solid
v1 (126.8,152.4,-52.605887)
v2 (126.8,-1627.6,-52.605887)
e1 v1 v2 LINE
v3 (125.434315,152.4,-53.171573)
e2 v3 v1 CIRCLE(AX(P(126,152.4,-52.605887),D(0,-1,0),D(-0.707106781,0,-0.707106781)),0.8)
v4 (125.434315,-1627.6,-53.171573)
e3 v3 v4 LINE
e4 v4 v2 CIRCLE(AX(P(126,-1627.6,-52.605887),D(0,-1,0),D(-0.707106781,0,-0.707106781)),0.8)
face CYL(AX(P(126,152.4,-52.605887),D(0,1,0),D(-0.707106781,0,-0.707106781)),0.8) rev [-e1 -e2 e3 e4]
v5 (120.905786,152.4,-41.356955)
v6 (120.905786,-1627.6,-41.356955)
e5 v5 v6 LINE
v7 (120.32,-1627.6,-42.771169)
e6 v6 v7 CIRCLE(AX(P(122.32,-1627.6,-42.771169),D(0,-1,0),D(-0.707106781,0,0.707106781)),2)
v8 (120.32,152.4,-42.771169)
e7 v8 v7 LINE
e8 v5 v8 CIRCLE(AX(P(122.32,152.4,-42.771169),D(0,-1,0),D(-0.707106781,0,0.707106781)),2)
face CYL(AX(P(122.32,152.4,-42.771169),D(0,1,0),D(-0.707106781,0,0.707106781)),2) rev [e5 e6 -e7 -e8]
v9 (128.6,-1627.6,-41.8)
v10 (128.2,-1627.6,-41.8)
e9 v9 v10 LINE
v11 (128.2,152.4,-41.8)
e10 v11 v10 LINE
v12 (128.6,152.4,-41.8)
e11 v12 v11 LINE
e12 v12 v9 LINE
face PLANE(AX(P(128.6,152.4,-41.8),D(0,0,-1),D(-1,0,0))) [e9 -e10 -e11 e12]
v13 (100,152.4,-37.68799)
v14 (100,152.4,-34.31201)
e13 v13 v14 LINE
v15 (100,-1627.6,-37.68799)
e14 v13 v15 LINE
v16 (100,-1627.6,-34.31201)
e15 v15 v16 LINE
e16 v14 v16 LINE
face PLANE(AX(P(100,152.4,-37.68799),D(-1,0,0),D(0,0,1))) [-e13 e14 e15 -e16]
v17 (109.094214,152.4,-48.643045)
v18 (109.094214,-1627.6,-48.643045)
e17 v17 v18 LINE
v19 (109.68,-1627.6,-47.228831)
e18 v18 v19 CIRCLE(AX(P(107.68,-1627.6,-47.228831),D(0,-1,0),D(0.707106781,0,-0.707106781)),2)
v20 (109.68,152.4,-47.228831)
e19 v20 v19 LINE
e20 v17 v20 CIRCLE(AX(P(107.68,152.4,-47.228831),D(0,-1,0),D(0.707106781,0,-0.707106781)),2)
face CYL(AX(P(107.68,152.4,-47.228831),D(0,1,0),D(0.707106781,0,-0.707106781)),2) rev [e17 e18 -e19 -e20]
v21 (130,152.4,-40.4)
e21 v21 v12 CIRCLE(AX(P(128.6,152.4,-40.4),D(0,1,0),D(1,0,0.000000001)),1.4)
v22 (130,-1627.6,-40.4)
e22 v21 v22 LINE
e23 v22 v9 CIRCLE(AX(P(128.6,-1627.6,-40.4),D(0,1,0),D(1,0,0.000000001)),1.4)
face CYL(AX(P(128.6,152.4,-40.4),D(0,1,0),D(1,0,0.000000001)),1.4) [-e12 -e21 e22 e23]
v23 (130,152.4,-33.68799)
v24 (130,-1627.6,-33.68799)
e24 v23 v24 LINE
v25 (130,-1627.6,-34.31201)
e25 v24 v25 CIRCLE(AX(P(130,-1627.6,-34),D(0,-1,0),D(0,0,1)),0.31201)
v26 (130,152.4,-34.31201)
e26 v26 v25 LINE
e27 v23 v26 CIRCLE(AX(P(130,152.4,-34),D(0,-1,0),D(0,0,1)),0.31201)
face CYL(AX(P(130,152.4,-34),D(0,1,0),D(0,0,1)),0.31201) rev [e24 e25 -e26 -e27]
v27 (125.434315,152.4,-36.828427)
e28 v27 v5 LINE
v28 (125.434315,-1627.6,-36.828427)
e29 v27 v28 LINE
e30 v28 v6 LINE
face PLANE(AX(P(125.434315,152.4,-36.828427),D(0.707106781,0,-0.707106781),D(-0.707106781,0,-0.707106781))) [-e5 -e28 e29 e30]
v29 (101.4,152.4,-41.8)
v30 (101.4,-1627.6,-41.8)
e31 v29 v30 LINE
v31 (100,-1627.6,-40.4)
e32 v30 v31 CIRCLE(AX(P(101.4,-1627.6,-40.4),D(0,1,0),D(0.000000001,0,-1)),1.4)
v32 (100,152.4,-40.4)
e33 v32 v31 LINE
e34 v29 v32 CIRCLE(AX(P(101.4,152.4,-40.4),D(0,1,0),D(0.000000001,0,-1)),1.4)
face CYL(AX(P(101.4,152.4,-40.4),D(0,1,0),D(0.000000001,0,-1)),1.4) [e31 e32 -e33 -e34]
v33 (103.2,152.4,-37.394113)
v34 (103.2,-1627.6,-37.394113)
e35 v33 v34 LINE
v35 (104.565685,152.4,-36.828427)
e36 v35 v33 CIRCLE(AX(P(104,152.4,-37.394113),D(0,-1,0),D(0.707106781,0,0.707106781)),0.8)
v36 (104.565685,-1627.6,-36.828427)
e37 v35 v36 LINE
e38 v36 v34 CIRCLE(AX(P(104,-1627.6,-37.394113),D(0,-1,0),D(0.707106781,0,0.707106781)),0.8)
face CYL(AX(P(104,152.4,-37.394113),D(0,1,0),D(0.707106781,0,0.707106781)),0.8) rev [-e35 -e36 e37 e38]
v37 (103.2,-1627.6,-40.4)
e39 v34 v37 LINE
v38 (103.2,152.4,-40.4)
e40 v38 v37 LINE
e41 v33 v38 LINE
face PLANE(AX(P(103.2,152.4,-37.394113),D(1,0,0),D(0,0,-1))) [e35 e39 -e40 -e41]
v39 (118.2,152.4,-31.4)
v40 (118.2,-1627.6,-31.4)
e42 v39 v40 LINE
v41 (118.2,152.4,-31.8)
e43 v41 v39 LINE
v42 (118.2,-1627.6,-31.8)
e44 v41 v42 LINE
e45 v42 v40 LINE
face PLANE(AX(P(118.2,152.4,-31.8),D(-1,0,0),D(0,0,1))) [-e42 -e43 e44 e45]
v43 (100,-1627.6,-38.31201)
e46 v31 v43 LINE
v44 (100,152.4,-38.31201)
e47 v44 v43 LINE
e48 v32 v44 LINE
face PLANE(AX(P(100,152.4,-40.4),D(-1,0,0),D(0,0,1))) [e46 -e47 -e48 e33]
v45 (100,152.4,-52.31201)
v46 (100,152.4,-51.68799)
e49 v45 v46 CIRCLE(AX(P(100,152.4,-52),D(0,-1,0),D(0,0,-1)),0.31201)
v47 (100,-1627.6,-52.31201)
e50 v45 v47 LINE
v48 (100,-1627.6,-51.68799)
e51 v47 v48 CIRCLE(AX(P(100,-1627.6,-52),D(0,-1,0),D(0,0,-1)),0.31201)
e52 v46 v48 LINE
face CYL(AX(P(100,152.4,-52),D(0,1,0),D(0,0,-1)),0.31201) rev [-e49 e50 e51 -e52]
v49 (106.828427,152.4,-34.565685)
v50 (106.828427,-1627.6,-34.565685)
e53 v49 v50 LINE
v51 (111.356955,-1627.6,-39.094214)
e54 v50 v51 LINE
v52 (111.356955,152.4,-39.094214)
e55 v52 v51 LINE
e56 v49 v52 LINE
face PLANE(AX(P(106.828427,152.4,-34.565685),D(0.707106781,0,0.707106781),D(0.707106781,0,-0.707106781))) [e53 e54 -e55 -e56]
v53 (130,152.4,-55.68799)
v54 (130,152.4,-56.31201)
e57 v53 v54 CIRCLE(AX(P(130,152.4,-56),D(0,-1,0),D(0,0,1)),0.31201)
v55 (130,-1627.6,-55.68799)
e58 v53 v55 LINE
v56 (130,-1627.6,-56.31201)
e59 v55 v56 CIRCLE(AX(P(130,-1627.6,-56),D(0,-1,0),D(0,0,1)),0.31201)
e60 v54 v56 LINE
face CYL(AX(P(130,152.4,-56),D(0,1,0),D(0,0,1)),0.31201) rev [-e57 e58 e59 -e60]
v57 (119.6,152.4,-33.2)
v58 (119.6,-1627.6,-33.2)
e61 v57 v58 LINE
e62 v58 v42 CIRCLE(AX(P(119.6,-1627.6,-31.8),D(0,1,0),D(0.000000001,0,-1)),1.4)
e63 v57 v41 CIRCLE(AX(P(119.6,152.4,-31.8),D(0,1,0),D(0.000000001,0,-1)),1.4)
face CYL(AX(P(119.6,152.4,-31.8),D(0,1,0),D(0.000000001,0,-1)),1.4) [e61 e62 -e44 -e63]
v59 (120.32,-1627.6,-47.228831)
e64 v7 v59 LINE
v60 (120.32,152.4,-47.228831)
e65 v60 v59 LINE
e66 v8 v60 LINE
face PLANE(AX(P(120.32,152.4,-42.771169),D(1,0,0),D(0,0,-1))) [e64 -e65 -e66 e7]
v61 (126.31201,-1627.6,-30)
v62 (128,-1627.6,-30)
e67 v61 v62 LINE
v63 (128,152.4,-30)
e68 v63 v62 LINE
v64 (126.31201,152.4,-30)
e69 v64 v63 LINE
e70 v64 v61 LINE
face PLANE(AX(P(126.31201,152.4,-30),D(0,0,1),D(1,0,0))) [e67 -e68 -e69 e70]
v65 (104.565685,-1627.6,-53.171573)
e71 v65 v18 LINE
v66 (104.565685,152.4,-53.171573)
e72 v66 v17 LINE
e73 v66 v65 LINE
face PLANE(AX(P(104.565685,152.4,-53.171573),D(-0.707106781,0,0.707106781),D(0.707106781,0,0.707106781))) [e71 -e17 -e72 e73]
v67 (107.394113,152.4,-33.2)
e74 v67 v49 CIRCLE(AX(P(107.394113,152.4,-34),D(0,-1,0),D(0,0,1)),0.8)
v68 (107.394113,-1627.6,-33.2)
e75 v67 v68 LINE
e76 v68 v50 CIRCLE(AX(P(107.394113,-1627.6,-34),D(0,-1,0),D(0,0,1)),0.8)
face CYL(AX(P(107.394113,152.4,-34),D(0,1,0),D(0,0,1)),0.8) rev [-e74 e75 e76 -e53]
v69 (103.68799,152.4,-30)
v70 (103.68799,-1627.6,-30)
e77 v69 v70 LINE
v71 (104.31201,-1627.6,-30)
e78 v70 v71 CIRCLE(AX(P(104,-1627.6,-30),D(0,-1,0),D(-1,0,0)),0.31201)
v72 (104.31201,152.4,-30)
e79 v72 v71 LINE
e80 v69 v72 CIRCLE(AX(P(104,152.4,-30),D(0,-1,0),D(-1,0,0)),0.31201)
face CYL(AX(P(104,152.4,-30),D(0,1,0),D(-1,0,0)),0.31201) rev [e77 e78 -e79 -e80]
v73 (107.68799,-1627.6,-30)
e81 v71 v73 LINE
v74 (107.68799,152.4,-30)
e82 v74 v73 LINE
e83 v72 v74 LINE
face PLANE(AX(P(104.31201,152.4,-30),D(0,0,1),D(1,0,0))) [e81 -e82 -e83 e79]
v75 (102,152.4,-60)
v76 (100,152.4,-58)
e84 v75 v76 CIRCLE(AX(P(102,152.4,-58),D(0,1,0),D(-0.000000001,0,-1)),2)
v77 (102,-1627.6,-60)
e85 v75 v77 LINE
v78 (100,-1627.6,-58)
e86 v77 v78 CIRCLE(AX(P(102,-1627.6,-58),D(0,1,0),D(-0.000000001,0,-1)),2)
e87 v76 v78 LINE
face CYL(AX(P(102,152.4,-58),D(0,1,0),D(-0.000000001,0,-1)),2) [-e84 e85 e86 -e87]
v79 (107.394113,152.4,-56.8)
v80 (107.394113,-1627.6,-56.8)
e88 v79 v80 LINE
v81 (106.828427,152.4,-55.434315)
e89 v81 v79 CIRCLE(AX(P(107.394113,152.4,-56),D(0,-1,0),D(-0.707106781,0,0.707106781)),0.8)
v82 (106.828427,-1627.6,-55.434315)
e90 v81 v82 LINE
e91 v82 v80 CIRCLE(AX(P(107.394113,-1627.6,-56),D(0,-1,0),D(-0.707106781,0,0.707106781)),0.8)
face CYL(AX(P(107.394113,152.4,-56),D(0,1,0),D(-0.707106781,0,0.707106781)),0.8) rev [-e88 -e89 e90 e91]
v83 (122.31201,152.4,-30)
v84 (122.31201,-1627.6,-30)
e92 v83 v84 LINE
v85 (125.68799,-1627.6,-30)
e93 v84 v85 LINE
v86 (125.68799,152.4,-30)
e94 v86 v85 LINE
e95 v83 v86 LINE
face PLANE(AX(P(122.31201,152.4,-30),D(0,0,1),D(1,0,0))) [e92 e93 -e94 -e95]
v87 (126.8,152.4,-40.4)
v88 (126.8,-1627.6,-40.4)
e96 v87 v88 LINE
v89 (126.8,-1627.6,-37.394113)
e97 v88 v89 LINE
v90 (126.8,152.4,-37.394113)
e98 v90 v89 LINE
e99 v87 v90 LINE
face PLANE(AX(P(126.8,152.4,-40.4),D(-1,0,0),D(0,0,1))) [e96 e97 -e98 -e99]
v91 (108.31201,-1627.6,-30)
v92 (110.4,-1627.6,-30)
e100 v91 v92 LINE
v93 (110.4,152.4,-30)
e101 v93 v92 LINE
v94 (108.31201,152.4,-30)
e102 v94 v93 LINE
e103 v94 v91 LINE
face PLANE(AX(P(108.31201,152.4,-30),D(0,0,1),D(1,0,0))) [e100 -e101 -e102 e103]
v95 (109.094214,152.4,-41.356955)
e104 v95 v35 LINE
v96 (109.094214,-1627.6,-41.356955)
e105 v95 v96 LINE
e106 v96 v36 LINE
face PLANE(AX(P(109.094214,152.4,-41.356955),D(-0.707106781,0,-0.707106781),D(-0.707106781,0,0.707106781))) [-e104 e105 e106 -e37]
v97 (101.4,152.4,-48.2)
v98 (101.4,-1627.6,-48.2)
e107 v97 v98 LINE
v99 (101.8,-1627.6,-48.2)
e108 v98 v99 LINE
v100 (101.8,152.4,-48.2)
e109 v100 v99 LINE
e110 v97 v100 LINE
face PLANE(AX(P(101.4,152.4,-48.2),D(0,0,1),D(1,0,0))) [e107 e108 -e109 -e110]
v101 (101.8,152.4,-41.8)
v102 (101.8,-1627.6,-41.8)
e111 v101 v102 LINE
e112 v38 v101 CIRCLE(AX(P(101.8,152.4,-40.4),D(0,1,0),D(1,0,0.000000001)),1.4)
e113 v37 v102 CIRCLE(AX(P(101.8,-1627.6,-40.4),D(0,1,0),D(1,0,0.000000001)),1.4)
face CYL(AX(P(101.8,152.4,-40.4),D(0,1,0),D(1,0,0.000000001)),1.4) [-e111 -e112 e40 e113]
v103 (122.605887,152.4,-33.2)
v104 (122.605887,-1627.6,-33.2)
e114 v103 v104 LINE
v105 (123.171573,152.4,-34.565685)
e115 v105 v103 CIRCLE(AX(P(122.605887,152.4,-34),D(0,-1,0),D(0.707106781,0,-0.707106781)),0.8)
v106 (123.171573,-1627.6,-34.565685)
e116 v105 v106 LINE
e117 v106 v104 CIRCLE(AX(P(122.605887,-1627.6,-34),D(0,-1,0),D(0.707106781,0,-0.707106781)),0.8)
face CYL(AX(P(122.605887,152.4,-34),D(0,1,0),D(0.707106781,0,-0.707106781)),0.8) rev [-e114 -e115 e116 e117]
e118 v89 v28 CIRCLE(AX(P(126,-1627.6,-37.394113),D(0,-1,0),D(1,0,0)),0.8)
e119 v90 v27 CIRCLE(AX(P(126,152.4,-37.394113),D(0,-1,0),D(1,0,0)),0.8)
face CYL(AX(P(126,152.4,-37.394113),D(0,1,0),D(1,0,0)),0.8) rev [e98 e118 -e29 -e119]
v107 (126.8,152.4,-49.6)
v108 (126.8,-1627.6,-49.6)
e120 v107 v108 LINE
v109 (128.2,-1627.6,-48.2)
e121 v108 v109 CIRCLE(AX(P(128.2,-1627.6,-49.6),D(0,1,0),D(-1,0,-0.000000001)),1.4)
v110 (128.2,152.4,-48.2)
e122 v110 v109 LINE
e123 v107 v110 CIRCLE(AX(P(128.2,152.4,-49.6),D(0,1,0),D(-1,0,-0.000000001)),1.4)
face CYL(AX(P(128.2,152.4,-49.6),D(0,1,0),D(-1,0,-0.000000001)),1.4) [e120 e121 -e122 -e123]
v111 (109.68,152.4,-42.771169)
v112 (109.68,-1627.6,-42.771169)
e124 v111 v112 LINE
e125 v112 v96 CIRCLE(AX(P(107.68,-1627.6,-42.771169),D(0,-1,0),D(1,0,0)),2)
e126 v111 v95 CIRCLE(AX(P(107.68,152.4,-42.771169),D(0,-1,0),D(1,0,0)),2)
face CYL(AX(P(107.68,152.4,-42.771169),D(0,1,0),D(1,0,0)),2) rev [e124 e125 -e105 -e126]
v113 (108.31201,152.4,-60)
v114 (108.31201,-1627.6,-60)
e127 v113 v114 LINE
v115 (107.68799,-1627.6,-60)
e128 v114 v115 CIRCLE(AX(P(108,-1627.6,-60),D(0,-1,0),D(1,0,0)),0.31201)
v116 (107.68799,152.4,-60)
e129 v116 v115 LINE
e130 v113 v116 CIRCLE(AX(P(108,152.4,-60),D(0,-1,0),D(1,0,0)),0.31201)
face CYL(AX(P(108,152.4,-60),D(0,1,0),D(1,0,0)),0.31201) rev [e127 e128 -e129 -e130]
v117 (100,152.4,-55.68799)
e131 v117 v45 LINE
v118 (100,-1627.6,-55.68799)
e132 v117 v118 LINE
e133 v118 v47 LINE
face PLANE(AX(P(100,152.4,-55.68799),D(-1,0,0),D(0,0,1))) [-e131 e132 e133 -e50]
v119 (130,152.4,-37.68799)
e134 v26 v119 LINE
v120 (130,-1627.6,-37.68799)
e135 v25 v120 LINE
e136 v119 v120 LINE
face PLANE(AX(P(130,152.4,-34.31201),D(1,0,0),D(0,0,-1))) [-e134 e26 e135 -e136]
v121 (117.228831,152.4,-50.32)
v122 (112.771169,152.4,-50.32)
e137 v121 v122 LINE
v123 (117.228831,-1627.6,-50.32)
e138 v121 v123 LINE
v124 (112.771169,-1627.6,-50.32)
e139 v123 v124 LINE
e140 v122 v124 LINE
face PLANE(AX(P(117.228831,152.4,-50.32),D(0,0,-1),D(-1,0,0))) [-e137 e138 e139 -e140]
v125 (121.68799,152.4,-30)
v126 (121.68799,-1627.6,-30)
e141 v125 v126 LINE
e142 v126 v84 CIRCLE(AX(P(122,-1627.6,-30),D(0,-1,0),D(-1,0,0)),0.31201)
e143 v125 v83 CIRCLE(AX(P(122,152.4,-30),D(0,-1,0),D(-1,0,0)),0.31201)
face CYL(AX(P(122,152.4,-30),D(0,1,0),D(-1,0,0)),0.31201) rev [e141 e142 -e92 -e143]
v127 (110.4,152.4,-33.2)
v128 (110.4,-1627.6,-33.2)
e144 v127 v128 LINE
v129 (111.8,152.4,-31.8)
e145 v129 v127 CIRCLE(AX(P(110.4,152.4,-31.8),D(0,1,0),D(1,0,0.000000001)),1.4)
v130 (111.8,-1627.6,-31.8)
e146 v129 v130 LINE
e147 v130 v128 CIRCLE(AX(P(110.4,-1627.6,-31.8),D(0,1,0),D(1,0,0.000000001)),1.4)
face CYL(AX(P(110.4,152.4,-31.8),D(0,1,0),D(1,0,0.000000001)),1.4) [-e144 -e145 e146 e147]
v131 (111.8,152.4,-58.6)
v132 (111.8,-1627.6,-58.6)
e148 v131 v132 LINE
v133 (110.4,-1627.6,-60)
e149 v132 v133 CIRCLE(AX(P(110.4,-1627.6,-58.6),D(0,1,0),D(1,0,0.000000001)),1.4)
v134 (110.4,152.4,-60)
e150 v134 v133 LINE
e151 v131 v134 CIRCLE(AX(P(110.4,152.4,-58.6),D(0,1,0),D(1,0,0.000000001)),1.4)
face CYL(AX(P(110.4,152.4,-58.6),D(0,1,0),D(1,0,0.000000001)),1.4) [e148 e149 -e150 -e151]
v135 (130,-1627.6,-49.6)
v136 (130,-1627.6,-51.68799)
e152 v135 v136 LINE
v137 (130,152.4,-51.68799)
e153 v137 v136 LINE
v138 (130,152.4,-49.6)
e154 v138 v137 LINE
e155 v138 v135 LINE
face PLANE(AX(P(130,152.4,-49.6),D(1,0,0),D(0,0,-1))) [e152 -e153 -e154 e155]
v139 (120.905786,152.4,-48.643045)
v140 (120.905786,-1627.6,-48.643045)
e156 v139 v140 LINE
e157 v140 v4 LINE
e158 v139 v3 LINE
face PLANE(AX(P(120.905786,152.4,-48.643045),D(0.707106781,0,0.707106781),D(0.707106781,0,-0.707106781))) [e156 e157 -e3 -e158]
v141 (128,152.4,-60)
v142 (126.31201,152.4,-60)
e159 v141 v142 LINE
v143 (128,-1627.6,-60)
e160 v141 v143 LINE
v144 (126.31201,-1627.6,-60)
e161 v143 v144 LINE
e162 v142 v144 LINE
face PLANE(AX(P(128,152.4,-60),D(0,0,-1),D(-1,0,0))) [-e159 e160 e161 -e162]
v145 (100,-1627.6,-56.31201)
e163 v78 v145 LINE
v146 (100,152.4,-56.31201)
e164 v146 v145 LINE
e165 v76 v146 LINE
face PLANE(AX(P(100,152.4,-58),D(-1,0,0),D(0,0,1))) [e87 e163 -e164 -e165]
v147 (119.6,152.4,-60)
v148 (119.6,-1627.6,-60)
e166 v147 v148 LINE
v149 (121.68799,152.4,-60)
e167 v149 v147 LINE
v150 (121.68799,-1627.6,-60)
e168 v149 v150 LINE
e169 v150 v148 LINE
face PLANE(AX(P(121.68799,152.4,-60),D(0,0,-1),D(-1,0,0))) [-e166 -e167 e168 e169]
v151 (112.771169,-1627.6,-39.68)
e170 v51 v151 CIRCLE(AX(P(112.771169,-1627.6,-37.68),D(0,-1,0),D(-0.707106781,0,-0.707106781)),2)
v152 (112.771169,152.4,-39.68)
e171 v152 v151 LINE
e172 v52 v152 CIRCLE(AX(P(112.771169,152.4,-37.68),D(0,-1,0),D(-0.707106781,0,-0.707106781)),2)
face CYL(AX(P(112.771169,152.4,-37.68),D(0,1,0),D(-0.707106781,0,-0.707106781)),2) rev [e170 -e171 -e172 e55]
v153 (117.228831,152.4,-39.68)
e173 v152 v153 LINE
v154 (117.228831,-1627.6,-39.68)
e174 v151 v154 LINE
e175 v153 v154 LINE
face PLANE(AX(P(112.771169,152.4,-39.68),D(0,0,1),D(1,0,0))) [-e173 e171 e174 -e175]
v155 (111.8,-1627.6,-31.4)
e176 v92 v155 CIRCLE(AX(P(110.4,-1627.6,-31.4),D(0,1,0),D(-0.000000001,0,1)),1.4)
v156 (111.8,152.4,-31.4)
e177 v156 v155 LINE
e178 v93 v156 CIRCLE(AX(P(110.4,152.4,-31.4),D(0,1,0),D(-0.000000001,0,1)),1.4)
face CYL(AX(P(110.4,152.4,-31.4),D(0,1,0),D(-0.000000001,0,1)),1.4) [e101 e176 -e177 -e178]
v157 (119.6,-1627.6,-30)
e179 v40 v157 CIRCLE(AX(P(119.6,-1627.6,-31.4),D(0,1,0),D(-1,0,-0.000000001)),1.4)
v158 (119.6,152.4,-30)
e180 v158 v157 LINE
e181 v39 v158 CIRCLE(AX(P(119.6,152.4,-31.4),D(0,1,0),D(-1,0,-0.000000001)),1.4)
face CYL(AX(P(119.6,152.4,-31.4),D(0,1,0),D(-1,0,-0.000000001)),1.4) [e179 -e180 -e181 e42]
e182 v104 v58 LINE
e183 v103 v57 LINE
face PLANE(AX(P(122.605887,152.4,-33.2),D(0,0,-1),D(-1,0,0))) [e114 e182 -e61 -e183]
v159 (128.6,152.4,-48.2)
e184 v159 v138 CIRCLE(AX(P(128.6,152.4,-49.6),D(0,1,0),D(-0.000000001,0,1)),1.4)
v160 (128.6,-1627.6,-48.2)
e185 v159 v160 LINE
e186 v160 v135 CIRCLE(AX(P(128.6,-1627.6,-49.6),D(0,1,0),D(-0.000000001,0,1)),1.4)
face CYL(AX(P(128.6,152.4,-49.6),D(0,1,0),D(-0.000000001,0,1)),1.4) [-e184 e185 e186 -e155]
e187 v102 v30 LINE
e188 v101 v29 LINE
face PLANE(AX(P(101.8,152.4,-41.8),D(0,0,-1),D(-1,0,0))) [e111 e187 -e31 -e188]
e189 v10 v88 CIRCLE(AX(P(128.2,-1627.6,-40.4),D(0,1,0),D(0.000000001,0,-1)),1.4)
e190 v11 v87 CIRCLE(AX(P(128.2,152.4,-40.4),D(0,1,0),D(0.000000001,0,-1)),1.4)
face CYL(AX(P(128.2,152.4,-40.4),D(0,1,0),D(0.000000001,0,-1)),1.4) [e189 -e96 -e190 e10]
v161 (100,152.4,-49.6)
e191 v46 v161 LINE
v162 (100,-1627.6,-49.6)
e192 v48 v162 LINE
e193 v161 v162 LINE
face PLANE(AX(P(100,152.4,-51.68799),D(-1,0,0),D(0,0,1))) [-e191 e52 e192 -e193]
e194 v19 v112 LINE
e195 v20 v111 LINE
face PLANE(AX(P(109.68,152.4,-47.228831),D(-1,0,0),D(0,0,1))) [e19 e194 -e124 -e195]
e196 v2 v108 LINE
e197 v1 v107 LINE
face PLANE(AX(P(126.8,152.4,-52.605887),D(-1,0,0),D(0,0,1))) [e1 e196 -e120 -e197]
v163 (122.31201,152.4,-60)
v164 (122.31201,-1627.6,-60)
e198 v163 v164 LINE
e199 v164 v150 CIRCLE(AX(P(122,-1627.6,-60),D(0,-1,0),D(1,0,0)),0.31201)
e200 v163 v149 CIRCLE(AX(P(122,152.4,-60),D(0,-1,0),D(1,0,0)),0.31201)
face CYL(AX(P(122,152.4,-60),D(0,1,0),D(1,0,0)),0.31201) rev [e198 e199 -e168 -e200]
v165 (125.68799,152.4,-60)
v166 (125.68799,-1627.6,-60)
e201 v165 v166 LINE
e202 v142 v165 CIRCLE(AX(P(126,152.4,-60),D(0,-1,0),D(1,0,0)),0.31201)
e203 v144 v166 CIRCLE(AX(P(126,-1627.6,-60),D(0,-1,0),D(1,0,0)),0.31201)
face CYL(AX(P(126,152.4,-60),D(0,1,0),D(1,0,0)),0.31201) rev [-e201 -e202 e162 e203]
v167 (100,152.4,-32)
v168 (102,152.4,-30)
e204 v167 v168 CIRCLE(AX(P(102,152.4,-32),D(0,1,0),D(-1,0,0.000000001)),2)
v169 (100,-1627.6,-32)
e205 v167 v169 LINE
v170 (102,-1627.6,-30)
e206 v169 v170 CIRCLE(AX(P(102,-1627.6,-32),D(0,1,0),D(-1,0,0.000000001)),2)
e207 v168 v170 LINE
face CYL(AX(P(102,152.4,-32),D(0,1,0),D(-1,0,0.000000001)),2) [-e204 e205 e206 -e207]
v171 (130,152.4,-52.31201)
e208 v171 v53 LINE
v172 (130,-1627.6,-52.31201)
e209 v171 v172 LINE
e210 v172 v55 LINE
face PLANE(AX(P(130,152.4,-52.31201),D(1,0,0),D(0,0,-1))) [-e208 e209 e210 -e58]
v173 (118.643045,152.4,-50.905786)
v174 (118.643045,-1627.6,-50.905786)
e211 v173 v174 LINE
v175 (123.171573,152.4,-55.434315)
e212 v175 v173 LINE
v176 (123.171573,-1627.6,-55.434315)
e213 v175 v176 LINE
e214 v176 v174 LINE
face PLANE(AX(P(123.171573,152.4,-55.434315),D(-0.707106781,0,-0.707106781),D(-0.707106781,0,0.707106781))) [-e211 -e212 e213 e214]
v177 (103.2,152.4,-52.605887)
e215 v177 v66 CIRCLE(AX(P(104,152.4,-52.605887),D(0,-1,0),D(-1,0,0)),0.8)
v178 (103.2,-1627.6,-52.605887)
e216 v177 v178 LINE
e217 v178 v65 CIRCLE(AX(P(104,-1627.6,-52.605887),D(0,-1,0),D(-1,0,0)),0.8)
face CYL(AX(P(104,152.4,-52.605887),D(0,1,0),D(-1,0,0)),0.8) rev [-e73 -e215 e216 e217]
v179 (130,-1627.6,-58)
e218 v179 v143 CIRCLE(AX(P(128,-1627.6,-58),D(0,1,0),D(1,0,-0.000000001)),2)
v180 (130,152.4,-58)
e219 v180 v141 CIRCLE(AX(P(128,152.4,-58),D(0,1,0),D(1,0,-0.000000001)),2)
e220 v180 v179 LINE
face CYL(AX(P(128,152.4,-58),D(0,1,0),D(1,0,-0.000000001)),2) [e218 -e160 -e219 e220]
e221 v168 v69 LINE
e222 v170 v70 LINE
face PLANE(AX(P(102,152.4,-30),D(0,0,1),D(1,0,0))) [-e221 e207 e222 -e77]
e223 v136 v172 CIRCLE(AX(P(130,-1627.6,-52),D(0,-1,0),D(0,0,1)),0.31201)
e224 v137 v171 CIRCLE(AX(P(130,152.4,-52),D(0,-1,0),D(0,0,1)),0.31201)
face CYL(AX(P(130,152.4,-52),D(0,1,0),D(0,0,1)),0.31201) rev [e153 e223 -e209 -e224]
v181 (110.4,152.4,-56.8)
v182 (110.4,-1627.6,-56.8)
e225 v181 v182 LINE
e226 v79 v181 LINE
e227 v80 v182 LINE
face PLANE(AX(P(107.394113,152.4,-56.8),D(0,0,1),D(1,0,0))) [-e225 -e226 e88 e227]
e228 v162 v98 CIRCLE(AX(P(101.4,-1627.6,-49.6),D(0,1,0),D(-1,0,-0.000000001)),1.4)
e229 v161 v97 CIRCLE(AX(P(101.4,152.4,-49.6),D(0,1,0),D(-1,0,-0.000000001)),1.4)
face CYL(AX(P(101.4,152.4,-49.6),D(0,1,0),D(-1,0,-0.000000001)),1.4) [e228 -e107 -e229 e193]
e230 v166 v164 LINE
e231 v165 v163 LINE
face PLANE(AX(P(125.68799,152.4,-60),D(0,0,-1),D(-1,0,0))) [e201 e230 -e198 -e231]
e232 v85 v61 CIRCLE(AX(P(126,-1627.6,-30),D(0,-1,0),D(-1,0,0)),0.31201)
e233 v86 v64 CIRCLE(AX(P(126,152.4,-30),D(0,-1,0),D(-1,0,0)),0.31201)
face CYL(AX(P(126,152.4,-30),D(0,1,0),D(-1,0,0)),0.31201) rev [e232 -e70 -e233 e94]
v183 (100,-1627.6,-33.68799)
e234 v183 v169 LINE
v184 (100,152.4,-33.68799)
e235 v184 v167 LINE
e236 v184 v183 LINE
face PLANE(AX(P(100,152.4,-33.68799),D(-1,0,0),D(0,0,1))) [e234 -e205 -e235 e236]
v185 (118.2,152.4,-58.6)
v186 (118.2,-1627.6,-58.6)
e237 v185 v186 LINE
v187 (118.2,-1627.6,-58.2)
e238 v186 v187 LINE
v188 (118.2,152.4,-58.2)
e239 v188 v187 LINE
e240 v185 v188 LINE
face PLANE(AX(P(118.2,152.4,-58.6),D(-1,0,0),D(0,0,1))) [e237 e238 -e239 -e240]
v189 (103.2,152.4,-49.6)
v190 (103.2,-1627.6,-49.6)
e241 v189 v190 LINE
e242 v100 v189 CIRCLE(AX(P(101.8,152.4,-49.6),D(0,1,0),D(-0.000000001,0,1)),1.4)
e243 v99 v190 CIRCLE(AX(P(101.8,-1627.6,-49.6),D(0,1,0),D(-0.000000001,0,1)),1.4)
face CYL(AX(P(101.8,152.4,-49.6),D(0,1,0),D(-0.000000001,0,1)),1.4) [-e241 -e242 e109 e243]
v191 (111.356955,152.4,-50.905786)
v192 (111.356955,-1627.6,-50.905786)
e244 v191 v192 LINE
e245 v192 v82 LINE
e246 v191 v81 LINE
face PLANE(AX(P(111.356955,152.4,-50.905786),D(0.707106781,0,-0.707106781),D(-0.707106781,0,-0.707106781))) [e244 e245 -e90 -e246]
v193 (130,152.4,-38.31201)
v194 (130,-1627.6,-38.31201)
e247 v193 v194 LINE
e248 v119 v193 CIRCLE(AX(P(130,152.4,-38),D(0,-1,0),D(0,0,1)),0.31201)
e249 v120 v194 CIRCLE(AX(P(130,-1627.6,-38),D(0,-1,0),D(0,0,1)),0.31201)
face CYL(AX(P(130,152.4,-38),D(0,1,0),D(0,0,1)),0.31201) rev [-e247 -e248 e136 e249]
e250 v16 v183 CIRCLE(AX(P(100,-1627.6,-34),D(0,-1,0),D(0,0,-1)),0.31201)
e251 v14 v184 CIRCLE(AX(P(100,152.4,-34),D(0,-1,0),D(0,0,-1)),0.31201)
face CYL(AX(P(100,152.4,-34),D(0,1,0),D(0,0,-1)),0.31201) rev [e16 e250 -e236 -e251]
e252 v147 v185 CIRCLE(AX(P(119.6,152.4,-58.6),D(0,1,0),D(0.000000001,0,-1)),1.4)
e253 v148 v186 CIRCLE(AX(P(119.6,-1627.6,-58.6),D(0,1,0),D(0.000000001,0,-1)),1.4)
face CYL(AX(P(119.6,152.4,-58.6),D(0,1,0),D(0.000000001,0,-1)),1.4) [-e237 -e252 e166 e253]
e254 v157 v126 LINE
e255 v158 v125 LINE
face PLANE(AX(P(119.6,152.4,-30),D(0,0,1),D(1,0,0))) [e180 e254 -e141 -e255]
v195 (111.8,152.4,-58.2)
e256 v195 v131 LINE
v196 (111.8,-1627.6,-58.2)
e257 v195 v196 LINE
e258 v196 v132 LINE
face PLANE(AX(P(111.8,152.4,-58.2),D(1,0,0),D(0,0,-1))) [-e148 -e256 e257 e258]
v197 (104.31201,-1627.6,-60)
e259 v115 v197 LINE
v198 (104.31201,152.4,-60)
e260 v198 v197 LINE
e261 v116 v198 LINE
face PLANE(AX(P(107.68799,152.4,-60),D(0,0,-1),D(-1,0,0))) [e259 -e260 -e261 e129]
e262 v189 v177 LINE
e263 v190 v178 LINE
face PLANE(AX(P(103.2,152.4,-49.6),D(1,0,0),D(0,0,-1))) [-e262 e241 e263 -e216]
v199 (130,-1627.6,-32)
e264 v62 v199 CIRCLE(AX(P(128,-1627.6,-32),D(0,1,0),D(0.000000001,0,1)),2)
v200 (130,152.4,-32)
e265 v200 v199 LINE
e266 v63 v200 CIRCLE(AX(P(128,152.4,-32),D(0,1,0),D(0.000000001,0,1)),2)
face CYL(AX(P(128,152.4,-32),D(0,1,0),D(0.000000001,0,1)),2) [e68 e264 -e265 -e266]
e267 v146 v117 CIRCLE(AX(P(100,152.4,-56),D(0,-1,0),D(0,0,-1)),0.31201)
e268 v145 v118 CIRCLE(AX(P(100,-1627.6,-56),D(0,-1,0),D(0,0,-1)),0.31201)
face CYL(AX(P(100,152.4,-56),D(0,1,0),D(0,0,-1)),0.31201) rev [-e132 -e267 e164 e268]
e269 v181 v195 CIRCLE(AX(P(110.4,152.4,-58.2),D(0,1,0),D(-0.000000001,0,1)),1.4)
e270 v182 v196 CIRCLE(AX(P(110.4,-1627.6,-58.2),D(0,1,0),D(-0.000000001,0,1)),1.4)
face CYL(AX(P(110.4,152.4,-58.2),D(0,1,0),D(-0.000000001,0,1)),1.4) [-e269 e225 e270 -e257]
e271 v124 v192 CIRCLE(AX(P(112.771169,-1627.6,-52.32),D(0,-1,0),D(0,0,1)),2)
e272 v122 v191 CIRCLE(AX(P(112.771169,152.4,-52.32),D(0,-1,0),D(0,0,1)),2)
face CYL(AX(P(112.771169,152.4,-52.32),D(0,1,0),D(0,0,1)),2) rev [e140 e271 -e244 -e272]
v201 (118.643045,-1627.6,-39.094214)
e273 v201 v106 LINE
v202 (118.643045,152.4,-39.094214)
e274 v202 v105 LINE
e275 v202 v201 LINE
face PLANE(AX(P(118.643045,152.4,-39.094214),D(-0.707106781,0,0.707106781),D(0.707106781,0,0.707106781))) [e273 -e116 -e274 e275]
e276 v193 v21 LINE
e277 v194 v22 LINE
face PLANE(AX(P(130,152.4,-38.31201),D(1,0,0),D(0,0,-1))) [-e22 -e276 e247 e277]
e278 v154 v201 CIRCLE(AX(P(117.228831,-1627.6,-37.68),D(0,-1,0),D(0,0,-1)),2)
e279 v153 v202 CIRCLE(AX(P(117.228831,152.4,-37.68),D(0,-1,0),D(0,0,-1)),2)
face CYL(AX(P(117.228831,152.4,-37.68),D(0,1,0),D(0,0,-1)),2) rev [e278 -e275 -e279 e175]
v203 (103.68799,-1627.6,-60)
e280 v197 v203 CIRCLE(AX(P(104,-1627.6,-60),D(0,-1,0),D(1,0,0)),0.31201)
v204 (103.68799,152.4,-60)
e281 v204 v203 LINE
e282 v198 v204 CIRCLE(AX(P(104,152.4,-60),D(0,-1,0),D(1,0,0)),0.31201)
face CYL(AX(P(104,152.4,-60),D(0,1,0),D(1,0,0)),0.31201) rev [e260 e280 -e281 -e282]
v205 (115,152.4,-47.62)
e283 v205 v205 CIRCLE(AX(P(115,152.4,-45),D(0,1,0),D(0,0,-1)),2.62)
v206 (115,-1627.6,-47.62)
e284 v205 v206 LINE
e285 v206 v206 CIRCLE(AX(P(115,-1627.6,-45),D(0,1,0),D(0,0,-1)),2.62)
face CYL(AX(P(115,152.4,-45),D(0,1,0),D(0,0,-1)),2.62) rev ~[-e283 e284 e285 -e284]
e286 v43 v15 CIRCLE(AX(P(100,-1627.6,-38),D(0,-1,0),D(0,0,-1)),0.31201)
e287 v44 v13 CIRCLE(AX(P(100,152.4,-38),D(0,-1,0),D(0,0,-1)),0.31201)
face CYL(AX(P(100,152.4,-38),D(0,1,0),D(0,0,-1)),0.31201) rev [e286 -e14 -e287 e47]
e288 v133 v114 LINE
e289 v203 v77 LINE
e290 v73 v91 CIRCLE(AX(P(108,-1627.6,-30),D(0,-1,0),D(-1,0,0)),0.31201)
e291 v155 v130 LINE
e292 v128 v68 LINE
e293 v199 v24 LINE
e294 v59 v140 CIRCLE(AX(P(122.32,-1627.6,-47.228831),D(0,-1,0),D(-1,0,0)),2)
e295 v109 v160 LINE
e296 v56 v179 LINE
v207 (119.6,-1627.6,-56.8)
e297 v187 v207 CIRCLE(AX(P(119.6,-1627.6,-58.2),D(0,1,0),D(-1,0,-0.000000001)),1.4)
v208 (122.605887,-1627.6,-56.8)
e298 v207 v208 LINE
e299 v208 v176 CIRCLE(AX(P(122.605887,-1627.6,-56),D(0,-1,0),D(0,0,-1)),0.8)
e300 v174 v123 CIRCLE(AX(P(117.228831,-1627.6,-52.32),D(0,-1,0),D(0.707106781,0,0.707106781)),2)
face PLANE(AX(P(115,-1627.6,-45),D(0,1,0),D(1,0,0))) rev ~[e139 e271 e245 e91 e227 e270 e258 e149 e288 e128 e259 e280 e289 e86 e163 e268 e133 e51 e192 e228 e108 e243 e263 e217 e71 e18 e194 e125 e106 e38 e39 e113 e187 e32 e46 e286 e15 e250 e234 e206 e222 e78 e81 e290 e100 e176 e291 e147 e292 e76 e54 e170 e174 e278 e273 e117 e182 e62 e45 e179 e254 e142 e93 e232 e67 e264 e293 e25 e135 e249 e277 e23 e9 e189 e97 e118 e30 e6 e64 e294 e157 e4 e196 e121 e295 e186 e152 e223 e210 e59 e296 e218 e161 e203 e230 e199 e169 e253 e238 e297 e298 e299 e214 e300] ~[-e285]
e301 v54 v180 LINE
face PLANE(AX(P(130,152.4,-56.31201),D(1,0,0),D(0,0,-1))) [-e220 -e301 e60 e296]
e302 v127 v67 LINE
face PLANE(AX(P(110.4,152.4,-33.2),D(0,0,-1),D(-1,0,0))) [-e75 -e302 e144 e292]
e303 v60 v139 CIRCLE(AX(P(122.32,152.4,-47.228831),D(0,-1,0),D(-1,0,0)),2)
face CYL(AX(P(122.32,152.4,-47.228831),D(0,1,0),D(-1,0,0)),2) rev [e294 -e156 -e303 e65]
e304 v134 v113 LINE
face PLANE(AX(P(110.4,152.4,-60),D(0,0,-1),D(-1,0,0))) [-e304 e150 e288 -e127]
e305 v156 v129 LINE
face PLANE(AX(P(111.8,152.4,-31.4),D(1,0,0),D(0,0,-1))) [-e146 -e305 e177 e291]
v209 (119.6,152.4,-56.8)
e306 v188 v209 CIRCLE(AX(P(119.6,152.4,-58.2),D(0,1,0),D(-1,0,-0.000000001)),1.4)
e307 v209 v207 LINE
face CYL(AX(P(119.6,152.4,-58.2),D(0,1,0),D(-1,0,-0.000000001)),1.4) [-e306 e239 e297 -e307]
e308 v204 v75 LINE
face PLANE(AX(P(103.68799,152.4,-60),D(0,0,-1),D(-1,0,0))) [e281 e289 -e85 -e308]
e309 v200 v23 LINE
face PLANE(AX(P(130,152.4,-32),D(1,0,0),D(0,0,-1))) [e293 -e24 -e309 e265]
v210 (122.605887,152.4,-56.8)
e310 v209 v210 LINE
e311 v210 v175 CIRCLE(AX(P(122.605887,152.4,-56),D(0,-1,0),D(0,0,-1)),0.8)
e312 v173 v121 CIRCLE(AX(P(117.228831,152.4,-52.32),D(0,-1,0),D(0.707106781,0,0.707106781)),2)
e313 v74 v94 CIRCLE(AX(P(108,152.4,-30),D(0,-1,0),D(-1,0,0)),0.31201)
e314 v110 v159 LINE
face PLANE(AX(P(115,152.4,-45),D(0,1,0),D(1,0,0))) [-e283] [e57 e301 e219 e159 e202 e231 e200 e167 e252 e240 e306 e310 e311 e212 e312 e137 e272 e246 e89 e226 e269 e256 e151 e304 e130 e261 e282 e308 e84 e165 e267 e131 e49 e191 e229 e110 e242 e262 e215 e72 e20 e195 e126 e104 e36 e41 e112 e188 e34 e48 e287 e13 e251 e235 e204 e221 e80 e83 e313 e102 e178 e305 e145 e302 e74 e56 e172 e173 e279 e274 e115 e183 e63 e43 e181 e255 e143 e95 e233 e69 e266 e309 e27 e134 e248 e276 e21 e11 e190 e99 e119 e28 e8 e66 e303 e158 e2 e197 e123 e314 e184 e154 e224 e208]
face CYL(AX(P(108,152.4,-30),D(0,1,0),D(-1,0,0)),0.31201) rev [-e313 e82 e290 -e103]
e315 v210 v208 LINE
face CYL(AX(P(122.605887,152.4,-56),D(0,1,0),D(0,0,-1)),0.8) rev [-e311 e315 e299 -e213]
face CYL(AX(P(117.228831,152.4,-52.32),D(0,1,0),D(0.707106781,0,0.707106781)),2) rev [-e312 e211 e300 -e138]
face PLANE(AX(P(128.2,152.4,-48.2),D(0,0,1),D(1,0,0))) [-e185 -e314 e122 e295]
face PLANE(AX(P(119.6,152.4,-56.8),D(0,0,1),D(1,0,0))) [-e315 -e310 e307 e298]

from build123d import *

# Parameters (mm, degrees)
SCHIZZO1_R                   = 2.62
ESTRUSIONE_ESTRUSIONE1_DEPTH = 1780


with BuildPart() as part:
    # Schizzo1 → Estrusione-Estrusione1 (new body)
    with BuildSketch(Plane(origin=(0, 152.4, 0), x_dir=(1, 0, 0), z_dir=(0, 1, 0))):
        with BuildLine():
            Line((130, 32), (130, 33.687990441))
            ThreePointArc((130, 33.687990441), (129.687990441, 34), (130, 34.312009559))
            Line((130, 34.312009559), (130, 37.687990441))
            ThreePointArc((130, 37.687990441), (129.687990441, 38), (130, 38.312009559))
            Line((130, 38.312009559), (130, 40.4))
            ThreePointArc((130, 40.4), (129.589949494, 41.389949494), (128.6, 41.8))
            Line((128.6, 41.8), (128.2, 41.8))
            ThreePointArc((128.2, 41.8), (127.210050506, 41.389949494), (126.8, 40.4))
            Line((126.8, 40.4), (126.8, 37.39411255))
            ThreePointArc((126.8, 37.39411255), (126.306146746, 36.655008924), (125.434314575, 36.828427125))
            Line((125.434314575, 36.828427125), (120.905786438, 41.356955262))
            ThreePointArc((120.905786438, 41.356955262), (120.472240935, 42.00580196), (120.32, 42.771168825))
            Line((120.32, 42.771168825), (120.32, 47.228831175))
            ThreePointArc((120.32, 47.228831175), (120.472240935, 47.99419804), (120.905786438, 48.643044738))
            Line((120.905786438, 48.643044738), (125.434314575, 53.171572875))
            ThreePointArc((125.434314575, 53.171572875), (126.306146746, 53.344991076), (126.8, 52.60588745))
            Line((126.8, 52.60588745), (126.8, 49.6))
            ThreePointArc((126.8, 49.6), (127.210050506, 48.610050506), (128.2, 48.2))
            Line((128.2, 48.2), (128.6, 48.2))
            ThreePointArc((128.6, 48.2), (129.589949494, 48.610050506), (130, 49.6))
            Line((130, 49.6), (130, 51.687990441))
            ThreePointArc((130, 51.687990441), (129.687990441, 52), (130, 52.312009559))
            Line((130, 52.312009559), (130, 55.687990441))
            ThreePointArc((130, 55.687990441), (129.687990441, 56), (130, 56.312009559))
            Line((130, 56.312009559), (130, 58))
            ThreePointArc((130, 58), (129.414213562, 59.414213562), (128, 60))
            Line((128, 60), (126.312009559, 60))
            ThreePointArc((126.312009559, 60), (126, 59.687990441), (125.687990441, 60))
            Line((125.687990441, 60), (122.312009559, 60))
            ThreePointArc((122.312009559, 60), (122, 59.687990441), (121.687990441, 60))
            Line((121.687990441, 60), (119.6, 60))
            ThreePointArc((119.6, 60), (118.610050506, 59.589949494), (118.2, 58.6))
            Line((118.2, 58.6), (118.2, 58.2))
            ThreePointArc((118.2, 58.2), (118.610050506, 57.210050506), (119.6, 56.8))
            Line((119.6, 56.8), (122.60588745, 56.8))
            ThreePointArc((122.60588745, 56.8), (123.344991076, 56.306146746), (123.171572875, 55.434314575))
            Line((123.171572875, 55.434314575), (118.643044738, 50.905786438))
            ThreePointArc((118.643044738, 50.905786438), (117.99419804, 50.472240935), (117.228831175, 50.32))
            Line((117.228831175, 50.32), (112.771168825, 50.32))
            ThreePointArc((112.771168825, 50.32), (112.00580196, 50.472240935), (111.356955262, 50.905786438))
            Line((111.356955262, 50.905786438), (106.828427125, 55.434314575))
            ThreePointArc((106.828427125, 55.434314575), (106.655008924, 56.306146746), (107.39411255, 56.8))
            Line((107.39411255, 56.8), (110.4, 56.8))
            ThreePointArc((110.4, 56.8), (111.389949494, 57.210050506), (111.8, 58.2))
            Line((111.8, 58.2), (111.8, 58.6))
            ThreePointArc((111.8, 58.6), (111.389949494, 59.589949494), (110.4, 60))
            Line((110.4, 60), (108.312009559, 60))
            ThreePointArc((108.312009559, 60), (108, 59.687990441), (107.687990441, 60))
            Line((107.687990441, 60), (104.312009559, 60))
            ThreePointArc((104.312009559, 60), (104, 59.687990441), (103.687990441, 60))
            Line((103.687990441, 60), (102, 60))
            ThreePointArc((102, 60), (100.585786438, 59.414213562), (100, 58))
            Line((100, 58), (100, 56.312009559))
            ThreePointArc((100, 56.312009559), (100.312009559, 56), (100, 55.687990441))
            Line((100, 55.687990441), (100, 52.312009559))
            ThreePointArc((100, 52.312009559), (100.312009559, 52), (100, 51.687990441))
            Line((100, 51.687990441), (100, 49.6))
            ThreePointArc((100, 49.6), (100.410050506, 48.610050506), (101.4, 48.2))
            Line((101.4, 48.2), (101.8, 48.2))
            ThreePointArc((101.8, 48.2), (102.789949494, 48.610050506), (103.2, 49.6))
            Line((103.2, 49.6), (103.2, 52.60588745))
            ThreePointArc((103.2, 52.60588745), (103.693853254, 53.344991076), (104.565685425, 53.171572875))
            Line((104.565685425, 53.171572875), (109.094213562, 48.643044738))
            ThreePointArc((109.094213562, 48.643044738), (109.527759065, 47.99419804), (109.68, 47.228831175))
            Line((109.68, 47.228831175), (109.68, 42.771168825))
            ThreePointArc((109.68, 42.771168825), (109.527759065, 42.00580196), (109.094213562, 41.356955262))
            Line((109.094213562, 41.356955262), (104.565685425, 36.828427125))
            ThreePointArc((104.565685425, 36.828427125), (103.693853254, 36.655008924), (103.2, 37.39411255))
            Line((103.2, 37.39411255), (103.2, 40.4))
            ThreePointArc((103.2, 40.4), (102.789949494, 41.389949494), (101.8, 41.8))
            Line((101.8, 41.8), (101.4, 41.8))
            ThreePointArc((101.4, 41.8), (100.410050506, 41.389949494), (100, 40.4))
            Line((100, 40.4), (100, 38.312009559))
            ThreePointArc((100, 38.312009559), (100.312009559, 38), (100, 37.687990441))
            Line((100, 37.687990441), (100, 34.312009559))
            ThreePointArc((100, 34.312009559), (100.312009559, 34), (100, 33.687990441))
            Line((100, 33.687990441), (100, 32))
            ThreePointArc((100, 32), (100.585786438, 30.585786438), (102, 30))
            Line((102, 30), (103.687990441, 30))
            ThreePointArc((103.687990441, 30), (104, 30.312009559), (104.312009559, 30))
            Line((104.312009559, 30), (107.687990441, 30))
            ThreePointArc((107.687990441, 30), (108, 30.312009559), (108.312009559, 30))
            Line((108.312009559, 30), (110.4, 30))
            ThreePointArc((110.4, 30), (111.389949494, 30.410050506), (111.8, 31.4))
            Line((111.8, 31.4), (111.8, 31.8))
            ThreePointArc((111.8, 31.8), (111.389949494, 32.789949494), (110.4, 33.2))
            Line((110.4, 33.2), (107.39411255, 33.2))
            ThreePointArc((107.39411255, 33.2), (106.655008924, 33.693853254), (106.828427125, 34.565685425))
            Line((106.828427125, 34.565685425), (111.356955262, 39.094213562))
            ThreePointArc((111.356955262, 39.094213562), (112.00580196, 39.527759065), (112.771168825, 39.68))
            Line((112.771168825, 39.68), (117.228831175, 39.68))
            ThreePointArc((117.228831175, 39.68), (117.99419804, 39.527759065), (118.643044738, 39.094213562))
            Line((118.643044738, 39.094213562), (123.171572875, 34.565685425))
            ThreePointArc((123.171572875, 34.565685425), (123.344991076, 33.693853254), (122.60588745, 33.2))
            Line((122.60588745, 33.2), (119.6, 33.2))
            ThreePointArc((119.6, 33.2), (118.610050506, 32.789949494), (118.2, 31.8))
            Line((118.2, 31.8), (118.2, 31.4))
            ThreePointArc((118.2, 31.4), (118.610050506, 30.410050506), (119.6, 30))
            Line((119.6, 30), (121.687990441, 30))
            ThreePointArc((121.687990441, 30), (122, 30.312009559), (122.312009559, 30))
            Line((122.312009559, 30), (125.687990441, 30))
            ThreePointArc((125.687990441, 30), (126, 30.312009559), (126.312009559, 30))
            Line((126.312009559, 30), (128, 30))
            ThreePointArc((128, 30), (129.414213562, 30.585786438), (130, 32))
        make_face()
        with Locations(Location((115, 45, 0), (0, 0, 90))):
            Circle(SCHIZZO1_R, mode=Mode.SUBTRACT)
    extrude(amount=-ESTRUSIONE_ESTRUSIONE1_DEPTH)


solid = part.part
